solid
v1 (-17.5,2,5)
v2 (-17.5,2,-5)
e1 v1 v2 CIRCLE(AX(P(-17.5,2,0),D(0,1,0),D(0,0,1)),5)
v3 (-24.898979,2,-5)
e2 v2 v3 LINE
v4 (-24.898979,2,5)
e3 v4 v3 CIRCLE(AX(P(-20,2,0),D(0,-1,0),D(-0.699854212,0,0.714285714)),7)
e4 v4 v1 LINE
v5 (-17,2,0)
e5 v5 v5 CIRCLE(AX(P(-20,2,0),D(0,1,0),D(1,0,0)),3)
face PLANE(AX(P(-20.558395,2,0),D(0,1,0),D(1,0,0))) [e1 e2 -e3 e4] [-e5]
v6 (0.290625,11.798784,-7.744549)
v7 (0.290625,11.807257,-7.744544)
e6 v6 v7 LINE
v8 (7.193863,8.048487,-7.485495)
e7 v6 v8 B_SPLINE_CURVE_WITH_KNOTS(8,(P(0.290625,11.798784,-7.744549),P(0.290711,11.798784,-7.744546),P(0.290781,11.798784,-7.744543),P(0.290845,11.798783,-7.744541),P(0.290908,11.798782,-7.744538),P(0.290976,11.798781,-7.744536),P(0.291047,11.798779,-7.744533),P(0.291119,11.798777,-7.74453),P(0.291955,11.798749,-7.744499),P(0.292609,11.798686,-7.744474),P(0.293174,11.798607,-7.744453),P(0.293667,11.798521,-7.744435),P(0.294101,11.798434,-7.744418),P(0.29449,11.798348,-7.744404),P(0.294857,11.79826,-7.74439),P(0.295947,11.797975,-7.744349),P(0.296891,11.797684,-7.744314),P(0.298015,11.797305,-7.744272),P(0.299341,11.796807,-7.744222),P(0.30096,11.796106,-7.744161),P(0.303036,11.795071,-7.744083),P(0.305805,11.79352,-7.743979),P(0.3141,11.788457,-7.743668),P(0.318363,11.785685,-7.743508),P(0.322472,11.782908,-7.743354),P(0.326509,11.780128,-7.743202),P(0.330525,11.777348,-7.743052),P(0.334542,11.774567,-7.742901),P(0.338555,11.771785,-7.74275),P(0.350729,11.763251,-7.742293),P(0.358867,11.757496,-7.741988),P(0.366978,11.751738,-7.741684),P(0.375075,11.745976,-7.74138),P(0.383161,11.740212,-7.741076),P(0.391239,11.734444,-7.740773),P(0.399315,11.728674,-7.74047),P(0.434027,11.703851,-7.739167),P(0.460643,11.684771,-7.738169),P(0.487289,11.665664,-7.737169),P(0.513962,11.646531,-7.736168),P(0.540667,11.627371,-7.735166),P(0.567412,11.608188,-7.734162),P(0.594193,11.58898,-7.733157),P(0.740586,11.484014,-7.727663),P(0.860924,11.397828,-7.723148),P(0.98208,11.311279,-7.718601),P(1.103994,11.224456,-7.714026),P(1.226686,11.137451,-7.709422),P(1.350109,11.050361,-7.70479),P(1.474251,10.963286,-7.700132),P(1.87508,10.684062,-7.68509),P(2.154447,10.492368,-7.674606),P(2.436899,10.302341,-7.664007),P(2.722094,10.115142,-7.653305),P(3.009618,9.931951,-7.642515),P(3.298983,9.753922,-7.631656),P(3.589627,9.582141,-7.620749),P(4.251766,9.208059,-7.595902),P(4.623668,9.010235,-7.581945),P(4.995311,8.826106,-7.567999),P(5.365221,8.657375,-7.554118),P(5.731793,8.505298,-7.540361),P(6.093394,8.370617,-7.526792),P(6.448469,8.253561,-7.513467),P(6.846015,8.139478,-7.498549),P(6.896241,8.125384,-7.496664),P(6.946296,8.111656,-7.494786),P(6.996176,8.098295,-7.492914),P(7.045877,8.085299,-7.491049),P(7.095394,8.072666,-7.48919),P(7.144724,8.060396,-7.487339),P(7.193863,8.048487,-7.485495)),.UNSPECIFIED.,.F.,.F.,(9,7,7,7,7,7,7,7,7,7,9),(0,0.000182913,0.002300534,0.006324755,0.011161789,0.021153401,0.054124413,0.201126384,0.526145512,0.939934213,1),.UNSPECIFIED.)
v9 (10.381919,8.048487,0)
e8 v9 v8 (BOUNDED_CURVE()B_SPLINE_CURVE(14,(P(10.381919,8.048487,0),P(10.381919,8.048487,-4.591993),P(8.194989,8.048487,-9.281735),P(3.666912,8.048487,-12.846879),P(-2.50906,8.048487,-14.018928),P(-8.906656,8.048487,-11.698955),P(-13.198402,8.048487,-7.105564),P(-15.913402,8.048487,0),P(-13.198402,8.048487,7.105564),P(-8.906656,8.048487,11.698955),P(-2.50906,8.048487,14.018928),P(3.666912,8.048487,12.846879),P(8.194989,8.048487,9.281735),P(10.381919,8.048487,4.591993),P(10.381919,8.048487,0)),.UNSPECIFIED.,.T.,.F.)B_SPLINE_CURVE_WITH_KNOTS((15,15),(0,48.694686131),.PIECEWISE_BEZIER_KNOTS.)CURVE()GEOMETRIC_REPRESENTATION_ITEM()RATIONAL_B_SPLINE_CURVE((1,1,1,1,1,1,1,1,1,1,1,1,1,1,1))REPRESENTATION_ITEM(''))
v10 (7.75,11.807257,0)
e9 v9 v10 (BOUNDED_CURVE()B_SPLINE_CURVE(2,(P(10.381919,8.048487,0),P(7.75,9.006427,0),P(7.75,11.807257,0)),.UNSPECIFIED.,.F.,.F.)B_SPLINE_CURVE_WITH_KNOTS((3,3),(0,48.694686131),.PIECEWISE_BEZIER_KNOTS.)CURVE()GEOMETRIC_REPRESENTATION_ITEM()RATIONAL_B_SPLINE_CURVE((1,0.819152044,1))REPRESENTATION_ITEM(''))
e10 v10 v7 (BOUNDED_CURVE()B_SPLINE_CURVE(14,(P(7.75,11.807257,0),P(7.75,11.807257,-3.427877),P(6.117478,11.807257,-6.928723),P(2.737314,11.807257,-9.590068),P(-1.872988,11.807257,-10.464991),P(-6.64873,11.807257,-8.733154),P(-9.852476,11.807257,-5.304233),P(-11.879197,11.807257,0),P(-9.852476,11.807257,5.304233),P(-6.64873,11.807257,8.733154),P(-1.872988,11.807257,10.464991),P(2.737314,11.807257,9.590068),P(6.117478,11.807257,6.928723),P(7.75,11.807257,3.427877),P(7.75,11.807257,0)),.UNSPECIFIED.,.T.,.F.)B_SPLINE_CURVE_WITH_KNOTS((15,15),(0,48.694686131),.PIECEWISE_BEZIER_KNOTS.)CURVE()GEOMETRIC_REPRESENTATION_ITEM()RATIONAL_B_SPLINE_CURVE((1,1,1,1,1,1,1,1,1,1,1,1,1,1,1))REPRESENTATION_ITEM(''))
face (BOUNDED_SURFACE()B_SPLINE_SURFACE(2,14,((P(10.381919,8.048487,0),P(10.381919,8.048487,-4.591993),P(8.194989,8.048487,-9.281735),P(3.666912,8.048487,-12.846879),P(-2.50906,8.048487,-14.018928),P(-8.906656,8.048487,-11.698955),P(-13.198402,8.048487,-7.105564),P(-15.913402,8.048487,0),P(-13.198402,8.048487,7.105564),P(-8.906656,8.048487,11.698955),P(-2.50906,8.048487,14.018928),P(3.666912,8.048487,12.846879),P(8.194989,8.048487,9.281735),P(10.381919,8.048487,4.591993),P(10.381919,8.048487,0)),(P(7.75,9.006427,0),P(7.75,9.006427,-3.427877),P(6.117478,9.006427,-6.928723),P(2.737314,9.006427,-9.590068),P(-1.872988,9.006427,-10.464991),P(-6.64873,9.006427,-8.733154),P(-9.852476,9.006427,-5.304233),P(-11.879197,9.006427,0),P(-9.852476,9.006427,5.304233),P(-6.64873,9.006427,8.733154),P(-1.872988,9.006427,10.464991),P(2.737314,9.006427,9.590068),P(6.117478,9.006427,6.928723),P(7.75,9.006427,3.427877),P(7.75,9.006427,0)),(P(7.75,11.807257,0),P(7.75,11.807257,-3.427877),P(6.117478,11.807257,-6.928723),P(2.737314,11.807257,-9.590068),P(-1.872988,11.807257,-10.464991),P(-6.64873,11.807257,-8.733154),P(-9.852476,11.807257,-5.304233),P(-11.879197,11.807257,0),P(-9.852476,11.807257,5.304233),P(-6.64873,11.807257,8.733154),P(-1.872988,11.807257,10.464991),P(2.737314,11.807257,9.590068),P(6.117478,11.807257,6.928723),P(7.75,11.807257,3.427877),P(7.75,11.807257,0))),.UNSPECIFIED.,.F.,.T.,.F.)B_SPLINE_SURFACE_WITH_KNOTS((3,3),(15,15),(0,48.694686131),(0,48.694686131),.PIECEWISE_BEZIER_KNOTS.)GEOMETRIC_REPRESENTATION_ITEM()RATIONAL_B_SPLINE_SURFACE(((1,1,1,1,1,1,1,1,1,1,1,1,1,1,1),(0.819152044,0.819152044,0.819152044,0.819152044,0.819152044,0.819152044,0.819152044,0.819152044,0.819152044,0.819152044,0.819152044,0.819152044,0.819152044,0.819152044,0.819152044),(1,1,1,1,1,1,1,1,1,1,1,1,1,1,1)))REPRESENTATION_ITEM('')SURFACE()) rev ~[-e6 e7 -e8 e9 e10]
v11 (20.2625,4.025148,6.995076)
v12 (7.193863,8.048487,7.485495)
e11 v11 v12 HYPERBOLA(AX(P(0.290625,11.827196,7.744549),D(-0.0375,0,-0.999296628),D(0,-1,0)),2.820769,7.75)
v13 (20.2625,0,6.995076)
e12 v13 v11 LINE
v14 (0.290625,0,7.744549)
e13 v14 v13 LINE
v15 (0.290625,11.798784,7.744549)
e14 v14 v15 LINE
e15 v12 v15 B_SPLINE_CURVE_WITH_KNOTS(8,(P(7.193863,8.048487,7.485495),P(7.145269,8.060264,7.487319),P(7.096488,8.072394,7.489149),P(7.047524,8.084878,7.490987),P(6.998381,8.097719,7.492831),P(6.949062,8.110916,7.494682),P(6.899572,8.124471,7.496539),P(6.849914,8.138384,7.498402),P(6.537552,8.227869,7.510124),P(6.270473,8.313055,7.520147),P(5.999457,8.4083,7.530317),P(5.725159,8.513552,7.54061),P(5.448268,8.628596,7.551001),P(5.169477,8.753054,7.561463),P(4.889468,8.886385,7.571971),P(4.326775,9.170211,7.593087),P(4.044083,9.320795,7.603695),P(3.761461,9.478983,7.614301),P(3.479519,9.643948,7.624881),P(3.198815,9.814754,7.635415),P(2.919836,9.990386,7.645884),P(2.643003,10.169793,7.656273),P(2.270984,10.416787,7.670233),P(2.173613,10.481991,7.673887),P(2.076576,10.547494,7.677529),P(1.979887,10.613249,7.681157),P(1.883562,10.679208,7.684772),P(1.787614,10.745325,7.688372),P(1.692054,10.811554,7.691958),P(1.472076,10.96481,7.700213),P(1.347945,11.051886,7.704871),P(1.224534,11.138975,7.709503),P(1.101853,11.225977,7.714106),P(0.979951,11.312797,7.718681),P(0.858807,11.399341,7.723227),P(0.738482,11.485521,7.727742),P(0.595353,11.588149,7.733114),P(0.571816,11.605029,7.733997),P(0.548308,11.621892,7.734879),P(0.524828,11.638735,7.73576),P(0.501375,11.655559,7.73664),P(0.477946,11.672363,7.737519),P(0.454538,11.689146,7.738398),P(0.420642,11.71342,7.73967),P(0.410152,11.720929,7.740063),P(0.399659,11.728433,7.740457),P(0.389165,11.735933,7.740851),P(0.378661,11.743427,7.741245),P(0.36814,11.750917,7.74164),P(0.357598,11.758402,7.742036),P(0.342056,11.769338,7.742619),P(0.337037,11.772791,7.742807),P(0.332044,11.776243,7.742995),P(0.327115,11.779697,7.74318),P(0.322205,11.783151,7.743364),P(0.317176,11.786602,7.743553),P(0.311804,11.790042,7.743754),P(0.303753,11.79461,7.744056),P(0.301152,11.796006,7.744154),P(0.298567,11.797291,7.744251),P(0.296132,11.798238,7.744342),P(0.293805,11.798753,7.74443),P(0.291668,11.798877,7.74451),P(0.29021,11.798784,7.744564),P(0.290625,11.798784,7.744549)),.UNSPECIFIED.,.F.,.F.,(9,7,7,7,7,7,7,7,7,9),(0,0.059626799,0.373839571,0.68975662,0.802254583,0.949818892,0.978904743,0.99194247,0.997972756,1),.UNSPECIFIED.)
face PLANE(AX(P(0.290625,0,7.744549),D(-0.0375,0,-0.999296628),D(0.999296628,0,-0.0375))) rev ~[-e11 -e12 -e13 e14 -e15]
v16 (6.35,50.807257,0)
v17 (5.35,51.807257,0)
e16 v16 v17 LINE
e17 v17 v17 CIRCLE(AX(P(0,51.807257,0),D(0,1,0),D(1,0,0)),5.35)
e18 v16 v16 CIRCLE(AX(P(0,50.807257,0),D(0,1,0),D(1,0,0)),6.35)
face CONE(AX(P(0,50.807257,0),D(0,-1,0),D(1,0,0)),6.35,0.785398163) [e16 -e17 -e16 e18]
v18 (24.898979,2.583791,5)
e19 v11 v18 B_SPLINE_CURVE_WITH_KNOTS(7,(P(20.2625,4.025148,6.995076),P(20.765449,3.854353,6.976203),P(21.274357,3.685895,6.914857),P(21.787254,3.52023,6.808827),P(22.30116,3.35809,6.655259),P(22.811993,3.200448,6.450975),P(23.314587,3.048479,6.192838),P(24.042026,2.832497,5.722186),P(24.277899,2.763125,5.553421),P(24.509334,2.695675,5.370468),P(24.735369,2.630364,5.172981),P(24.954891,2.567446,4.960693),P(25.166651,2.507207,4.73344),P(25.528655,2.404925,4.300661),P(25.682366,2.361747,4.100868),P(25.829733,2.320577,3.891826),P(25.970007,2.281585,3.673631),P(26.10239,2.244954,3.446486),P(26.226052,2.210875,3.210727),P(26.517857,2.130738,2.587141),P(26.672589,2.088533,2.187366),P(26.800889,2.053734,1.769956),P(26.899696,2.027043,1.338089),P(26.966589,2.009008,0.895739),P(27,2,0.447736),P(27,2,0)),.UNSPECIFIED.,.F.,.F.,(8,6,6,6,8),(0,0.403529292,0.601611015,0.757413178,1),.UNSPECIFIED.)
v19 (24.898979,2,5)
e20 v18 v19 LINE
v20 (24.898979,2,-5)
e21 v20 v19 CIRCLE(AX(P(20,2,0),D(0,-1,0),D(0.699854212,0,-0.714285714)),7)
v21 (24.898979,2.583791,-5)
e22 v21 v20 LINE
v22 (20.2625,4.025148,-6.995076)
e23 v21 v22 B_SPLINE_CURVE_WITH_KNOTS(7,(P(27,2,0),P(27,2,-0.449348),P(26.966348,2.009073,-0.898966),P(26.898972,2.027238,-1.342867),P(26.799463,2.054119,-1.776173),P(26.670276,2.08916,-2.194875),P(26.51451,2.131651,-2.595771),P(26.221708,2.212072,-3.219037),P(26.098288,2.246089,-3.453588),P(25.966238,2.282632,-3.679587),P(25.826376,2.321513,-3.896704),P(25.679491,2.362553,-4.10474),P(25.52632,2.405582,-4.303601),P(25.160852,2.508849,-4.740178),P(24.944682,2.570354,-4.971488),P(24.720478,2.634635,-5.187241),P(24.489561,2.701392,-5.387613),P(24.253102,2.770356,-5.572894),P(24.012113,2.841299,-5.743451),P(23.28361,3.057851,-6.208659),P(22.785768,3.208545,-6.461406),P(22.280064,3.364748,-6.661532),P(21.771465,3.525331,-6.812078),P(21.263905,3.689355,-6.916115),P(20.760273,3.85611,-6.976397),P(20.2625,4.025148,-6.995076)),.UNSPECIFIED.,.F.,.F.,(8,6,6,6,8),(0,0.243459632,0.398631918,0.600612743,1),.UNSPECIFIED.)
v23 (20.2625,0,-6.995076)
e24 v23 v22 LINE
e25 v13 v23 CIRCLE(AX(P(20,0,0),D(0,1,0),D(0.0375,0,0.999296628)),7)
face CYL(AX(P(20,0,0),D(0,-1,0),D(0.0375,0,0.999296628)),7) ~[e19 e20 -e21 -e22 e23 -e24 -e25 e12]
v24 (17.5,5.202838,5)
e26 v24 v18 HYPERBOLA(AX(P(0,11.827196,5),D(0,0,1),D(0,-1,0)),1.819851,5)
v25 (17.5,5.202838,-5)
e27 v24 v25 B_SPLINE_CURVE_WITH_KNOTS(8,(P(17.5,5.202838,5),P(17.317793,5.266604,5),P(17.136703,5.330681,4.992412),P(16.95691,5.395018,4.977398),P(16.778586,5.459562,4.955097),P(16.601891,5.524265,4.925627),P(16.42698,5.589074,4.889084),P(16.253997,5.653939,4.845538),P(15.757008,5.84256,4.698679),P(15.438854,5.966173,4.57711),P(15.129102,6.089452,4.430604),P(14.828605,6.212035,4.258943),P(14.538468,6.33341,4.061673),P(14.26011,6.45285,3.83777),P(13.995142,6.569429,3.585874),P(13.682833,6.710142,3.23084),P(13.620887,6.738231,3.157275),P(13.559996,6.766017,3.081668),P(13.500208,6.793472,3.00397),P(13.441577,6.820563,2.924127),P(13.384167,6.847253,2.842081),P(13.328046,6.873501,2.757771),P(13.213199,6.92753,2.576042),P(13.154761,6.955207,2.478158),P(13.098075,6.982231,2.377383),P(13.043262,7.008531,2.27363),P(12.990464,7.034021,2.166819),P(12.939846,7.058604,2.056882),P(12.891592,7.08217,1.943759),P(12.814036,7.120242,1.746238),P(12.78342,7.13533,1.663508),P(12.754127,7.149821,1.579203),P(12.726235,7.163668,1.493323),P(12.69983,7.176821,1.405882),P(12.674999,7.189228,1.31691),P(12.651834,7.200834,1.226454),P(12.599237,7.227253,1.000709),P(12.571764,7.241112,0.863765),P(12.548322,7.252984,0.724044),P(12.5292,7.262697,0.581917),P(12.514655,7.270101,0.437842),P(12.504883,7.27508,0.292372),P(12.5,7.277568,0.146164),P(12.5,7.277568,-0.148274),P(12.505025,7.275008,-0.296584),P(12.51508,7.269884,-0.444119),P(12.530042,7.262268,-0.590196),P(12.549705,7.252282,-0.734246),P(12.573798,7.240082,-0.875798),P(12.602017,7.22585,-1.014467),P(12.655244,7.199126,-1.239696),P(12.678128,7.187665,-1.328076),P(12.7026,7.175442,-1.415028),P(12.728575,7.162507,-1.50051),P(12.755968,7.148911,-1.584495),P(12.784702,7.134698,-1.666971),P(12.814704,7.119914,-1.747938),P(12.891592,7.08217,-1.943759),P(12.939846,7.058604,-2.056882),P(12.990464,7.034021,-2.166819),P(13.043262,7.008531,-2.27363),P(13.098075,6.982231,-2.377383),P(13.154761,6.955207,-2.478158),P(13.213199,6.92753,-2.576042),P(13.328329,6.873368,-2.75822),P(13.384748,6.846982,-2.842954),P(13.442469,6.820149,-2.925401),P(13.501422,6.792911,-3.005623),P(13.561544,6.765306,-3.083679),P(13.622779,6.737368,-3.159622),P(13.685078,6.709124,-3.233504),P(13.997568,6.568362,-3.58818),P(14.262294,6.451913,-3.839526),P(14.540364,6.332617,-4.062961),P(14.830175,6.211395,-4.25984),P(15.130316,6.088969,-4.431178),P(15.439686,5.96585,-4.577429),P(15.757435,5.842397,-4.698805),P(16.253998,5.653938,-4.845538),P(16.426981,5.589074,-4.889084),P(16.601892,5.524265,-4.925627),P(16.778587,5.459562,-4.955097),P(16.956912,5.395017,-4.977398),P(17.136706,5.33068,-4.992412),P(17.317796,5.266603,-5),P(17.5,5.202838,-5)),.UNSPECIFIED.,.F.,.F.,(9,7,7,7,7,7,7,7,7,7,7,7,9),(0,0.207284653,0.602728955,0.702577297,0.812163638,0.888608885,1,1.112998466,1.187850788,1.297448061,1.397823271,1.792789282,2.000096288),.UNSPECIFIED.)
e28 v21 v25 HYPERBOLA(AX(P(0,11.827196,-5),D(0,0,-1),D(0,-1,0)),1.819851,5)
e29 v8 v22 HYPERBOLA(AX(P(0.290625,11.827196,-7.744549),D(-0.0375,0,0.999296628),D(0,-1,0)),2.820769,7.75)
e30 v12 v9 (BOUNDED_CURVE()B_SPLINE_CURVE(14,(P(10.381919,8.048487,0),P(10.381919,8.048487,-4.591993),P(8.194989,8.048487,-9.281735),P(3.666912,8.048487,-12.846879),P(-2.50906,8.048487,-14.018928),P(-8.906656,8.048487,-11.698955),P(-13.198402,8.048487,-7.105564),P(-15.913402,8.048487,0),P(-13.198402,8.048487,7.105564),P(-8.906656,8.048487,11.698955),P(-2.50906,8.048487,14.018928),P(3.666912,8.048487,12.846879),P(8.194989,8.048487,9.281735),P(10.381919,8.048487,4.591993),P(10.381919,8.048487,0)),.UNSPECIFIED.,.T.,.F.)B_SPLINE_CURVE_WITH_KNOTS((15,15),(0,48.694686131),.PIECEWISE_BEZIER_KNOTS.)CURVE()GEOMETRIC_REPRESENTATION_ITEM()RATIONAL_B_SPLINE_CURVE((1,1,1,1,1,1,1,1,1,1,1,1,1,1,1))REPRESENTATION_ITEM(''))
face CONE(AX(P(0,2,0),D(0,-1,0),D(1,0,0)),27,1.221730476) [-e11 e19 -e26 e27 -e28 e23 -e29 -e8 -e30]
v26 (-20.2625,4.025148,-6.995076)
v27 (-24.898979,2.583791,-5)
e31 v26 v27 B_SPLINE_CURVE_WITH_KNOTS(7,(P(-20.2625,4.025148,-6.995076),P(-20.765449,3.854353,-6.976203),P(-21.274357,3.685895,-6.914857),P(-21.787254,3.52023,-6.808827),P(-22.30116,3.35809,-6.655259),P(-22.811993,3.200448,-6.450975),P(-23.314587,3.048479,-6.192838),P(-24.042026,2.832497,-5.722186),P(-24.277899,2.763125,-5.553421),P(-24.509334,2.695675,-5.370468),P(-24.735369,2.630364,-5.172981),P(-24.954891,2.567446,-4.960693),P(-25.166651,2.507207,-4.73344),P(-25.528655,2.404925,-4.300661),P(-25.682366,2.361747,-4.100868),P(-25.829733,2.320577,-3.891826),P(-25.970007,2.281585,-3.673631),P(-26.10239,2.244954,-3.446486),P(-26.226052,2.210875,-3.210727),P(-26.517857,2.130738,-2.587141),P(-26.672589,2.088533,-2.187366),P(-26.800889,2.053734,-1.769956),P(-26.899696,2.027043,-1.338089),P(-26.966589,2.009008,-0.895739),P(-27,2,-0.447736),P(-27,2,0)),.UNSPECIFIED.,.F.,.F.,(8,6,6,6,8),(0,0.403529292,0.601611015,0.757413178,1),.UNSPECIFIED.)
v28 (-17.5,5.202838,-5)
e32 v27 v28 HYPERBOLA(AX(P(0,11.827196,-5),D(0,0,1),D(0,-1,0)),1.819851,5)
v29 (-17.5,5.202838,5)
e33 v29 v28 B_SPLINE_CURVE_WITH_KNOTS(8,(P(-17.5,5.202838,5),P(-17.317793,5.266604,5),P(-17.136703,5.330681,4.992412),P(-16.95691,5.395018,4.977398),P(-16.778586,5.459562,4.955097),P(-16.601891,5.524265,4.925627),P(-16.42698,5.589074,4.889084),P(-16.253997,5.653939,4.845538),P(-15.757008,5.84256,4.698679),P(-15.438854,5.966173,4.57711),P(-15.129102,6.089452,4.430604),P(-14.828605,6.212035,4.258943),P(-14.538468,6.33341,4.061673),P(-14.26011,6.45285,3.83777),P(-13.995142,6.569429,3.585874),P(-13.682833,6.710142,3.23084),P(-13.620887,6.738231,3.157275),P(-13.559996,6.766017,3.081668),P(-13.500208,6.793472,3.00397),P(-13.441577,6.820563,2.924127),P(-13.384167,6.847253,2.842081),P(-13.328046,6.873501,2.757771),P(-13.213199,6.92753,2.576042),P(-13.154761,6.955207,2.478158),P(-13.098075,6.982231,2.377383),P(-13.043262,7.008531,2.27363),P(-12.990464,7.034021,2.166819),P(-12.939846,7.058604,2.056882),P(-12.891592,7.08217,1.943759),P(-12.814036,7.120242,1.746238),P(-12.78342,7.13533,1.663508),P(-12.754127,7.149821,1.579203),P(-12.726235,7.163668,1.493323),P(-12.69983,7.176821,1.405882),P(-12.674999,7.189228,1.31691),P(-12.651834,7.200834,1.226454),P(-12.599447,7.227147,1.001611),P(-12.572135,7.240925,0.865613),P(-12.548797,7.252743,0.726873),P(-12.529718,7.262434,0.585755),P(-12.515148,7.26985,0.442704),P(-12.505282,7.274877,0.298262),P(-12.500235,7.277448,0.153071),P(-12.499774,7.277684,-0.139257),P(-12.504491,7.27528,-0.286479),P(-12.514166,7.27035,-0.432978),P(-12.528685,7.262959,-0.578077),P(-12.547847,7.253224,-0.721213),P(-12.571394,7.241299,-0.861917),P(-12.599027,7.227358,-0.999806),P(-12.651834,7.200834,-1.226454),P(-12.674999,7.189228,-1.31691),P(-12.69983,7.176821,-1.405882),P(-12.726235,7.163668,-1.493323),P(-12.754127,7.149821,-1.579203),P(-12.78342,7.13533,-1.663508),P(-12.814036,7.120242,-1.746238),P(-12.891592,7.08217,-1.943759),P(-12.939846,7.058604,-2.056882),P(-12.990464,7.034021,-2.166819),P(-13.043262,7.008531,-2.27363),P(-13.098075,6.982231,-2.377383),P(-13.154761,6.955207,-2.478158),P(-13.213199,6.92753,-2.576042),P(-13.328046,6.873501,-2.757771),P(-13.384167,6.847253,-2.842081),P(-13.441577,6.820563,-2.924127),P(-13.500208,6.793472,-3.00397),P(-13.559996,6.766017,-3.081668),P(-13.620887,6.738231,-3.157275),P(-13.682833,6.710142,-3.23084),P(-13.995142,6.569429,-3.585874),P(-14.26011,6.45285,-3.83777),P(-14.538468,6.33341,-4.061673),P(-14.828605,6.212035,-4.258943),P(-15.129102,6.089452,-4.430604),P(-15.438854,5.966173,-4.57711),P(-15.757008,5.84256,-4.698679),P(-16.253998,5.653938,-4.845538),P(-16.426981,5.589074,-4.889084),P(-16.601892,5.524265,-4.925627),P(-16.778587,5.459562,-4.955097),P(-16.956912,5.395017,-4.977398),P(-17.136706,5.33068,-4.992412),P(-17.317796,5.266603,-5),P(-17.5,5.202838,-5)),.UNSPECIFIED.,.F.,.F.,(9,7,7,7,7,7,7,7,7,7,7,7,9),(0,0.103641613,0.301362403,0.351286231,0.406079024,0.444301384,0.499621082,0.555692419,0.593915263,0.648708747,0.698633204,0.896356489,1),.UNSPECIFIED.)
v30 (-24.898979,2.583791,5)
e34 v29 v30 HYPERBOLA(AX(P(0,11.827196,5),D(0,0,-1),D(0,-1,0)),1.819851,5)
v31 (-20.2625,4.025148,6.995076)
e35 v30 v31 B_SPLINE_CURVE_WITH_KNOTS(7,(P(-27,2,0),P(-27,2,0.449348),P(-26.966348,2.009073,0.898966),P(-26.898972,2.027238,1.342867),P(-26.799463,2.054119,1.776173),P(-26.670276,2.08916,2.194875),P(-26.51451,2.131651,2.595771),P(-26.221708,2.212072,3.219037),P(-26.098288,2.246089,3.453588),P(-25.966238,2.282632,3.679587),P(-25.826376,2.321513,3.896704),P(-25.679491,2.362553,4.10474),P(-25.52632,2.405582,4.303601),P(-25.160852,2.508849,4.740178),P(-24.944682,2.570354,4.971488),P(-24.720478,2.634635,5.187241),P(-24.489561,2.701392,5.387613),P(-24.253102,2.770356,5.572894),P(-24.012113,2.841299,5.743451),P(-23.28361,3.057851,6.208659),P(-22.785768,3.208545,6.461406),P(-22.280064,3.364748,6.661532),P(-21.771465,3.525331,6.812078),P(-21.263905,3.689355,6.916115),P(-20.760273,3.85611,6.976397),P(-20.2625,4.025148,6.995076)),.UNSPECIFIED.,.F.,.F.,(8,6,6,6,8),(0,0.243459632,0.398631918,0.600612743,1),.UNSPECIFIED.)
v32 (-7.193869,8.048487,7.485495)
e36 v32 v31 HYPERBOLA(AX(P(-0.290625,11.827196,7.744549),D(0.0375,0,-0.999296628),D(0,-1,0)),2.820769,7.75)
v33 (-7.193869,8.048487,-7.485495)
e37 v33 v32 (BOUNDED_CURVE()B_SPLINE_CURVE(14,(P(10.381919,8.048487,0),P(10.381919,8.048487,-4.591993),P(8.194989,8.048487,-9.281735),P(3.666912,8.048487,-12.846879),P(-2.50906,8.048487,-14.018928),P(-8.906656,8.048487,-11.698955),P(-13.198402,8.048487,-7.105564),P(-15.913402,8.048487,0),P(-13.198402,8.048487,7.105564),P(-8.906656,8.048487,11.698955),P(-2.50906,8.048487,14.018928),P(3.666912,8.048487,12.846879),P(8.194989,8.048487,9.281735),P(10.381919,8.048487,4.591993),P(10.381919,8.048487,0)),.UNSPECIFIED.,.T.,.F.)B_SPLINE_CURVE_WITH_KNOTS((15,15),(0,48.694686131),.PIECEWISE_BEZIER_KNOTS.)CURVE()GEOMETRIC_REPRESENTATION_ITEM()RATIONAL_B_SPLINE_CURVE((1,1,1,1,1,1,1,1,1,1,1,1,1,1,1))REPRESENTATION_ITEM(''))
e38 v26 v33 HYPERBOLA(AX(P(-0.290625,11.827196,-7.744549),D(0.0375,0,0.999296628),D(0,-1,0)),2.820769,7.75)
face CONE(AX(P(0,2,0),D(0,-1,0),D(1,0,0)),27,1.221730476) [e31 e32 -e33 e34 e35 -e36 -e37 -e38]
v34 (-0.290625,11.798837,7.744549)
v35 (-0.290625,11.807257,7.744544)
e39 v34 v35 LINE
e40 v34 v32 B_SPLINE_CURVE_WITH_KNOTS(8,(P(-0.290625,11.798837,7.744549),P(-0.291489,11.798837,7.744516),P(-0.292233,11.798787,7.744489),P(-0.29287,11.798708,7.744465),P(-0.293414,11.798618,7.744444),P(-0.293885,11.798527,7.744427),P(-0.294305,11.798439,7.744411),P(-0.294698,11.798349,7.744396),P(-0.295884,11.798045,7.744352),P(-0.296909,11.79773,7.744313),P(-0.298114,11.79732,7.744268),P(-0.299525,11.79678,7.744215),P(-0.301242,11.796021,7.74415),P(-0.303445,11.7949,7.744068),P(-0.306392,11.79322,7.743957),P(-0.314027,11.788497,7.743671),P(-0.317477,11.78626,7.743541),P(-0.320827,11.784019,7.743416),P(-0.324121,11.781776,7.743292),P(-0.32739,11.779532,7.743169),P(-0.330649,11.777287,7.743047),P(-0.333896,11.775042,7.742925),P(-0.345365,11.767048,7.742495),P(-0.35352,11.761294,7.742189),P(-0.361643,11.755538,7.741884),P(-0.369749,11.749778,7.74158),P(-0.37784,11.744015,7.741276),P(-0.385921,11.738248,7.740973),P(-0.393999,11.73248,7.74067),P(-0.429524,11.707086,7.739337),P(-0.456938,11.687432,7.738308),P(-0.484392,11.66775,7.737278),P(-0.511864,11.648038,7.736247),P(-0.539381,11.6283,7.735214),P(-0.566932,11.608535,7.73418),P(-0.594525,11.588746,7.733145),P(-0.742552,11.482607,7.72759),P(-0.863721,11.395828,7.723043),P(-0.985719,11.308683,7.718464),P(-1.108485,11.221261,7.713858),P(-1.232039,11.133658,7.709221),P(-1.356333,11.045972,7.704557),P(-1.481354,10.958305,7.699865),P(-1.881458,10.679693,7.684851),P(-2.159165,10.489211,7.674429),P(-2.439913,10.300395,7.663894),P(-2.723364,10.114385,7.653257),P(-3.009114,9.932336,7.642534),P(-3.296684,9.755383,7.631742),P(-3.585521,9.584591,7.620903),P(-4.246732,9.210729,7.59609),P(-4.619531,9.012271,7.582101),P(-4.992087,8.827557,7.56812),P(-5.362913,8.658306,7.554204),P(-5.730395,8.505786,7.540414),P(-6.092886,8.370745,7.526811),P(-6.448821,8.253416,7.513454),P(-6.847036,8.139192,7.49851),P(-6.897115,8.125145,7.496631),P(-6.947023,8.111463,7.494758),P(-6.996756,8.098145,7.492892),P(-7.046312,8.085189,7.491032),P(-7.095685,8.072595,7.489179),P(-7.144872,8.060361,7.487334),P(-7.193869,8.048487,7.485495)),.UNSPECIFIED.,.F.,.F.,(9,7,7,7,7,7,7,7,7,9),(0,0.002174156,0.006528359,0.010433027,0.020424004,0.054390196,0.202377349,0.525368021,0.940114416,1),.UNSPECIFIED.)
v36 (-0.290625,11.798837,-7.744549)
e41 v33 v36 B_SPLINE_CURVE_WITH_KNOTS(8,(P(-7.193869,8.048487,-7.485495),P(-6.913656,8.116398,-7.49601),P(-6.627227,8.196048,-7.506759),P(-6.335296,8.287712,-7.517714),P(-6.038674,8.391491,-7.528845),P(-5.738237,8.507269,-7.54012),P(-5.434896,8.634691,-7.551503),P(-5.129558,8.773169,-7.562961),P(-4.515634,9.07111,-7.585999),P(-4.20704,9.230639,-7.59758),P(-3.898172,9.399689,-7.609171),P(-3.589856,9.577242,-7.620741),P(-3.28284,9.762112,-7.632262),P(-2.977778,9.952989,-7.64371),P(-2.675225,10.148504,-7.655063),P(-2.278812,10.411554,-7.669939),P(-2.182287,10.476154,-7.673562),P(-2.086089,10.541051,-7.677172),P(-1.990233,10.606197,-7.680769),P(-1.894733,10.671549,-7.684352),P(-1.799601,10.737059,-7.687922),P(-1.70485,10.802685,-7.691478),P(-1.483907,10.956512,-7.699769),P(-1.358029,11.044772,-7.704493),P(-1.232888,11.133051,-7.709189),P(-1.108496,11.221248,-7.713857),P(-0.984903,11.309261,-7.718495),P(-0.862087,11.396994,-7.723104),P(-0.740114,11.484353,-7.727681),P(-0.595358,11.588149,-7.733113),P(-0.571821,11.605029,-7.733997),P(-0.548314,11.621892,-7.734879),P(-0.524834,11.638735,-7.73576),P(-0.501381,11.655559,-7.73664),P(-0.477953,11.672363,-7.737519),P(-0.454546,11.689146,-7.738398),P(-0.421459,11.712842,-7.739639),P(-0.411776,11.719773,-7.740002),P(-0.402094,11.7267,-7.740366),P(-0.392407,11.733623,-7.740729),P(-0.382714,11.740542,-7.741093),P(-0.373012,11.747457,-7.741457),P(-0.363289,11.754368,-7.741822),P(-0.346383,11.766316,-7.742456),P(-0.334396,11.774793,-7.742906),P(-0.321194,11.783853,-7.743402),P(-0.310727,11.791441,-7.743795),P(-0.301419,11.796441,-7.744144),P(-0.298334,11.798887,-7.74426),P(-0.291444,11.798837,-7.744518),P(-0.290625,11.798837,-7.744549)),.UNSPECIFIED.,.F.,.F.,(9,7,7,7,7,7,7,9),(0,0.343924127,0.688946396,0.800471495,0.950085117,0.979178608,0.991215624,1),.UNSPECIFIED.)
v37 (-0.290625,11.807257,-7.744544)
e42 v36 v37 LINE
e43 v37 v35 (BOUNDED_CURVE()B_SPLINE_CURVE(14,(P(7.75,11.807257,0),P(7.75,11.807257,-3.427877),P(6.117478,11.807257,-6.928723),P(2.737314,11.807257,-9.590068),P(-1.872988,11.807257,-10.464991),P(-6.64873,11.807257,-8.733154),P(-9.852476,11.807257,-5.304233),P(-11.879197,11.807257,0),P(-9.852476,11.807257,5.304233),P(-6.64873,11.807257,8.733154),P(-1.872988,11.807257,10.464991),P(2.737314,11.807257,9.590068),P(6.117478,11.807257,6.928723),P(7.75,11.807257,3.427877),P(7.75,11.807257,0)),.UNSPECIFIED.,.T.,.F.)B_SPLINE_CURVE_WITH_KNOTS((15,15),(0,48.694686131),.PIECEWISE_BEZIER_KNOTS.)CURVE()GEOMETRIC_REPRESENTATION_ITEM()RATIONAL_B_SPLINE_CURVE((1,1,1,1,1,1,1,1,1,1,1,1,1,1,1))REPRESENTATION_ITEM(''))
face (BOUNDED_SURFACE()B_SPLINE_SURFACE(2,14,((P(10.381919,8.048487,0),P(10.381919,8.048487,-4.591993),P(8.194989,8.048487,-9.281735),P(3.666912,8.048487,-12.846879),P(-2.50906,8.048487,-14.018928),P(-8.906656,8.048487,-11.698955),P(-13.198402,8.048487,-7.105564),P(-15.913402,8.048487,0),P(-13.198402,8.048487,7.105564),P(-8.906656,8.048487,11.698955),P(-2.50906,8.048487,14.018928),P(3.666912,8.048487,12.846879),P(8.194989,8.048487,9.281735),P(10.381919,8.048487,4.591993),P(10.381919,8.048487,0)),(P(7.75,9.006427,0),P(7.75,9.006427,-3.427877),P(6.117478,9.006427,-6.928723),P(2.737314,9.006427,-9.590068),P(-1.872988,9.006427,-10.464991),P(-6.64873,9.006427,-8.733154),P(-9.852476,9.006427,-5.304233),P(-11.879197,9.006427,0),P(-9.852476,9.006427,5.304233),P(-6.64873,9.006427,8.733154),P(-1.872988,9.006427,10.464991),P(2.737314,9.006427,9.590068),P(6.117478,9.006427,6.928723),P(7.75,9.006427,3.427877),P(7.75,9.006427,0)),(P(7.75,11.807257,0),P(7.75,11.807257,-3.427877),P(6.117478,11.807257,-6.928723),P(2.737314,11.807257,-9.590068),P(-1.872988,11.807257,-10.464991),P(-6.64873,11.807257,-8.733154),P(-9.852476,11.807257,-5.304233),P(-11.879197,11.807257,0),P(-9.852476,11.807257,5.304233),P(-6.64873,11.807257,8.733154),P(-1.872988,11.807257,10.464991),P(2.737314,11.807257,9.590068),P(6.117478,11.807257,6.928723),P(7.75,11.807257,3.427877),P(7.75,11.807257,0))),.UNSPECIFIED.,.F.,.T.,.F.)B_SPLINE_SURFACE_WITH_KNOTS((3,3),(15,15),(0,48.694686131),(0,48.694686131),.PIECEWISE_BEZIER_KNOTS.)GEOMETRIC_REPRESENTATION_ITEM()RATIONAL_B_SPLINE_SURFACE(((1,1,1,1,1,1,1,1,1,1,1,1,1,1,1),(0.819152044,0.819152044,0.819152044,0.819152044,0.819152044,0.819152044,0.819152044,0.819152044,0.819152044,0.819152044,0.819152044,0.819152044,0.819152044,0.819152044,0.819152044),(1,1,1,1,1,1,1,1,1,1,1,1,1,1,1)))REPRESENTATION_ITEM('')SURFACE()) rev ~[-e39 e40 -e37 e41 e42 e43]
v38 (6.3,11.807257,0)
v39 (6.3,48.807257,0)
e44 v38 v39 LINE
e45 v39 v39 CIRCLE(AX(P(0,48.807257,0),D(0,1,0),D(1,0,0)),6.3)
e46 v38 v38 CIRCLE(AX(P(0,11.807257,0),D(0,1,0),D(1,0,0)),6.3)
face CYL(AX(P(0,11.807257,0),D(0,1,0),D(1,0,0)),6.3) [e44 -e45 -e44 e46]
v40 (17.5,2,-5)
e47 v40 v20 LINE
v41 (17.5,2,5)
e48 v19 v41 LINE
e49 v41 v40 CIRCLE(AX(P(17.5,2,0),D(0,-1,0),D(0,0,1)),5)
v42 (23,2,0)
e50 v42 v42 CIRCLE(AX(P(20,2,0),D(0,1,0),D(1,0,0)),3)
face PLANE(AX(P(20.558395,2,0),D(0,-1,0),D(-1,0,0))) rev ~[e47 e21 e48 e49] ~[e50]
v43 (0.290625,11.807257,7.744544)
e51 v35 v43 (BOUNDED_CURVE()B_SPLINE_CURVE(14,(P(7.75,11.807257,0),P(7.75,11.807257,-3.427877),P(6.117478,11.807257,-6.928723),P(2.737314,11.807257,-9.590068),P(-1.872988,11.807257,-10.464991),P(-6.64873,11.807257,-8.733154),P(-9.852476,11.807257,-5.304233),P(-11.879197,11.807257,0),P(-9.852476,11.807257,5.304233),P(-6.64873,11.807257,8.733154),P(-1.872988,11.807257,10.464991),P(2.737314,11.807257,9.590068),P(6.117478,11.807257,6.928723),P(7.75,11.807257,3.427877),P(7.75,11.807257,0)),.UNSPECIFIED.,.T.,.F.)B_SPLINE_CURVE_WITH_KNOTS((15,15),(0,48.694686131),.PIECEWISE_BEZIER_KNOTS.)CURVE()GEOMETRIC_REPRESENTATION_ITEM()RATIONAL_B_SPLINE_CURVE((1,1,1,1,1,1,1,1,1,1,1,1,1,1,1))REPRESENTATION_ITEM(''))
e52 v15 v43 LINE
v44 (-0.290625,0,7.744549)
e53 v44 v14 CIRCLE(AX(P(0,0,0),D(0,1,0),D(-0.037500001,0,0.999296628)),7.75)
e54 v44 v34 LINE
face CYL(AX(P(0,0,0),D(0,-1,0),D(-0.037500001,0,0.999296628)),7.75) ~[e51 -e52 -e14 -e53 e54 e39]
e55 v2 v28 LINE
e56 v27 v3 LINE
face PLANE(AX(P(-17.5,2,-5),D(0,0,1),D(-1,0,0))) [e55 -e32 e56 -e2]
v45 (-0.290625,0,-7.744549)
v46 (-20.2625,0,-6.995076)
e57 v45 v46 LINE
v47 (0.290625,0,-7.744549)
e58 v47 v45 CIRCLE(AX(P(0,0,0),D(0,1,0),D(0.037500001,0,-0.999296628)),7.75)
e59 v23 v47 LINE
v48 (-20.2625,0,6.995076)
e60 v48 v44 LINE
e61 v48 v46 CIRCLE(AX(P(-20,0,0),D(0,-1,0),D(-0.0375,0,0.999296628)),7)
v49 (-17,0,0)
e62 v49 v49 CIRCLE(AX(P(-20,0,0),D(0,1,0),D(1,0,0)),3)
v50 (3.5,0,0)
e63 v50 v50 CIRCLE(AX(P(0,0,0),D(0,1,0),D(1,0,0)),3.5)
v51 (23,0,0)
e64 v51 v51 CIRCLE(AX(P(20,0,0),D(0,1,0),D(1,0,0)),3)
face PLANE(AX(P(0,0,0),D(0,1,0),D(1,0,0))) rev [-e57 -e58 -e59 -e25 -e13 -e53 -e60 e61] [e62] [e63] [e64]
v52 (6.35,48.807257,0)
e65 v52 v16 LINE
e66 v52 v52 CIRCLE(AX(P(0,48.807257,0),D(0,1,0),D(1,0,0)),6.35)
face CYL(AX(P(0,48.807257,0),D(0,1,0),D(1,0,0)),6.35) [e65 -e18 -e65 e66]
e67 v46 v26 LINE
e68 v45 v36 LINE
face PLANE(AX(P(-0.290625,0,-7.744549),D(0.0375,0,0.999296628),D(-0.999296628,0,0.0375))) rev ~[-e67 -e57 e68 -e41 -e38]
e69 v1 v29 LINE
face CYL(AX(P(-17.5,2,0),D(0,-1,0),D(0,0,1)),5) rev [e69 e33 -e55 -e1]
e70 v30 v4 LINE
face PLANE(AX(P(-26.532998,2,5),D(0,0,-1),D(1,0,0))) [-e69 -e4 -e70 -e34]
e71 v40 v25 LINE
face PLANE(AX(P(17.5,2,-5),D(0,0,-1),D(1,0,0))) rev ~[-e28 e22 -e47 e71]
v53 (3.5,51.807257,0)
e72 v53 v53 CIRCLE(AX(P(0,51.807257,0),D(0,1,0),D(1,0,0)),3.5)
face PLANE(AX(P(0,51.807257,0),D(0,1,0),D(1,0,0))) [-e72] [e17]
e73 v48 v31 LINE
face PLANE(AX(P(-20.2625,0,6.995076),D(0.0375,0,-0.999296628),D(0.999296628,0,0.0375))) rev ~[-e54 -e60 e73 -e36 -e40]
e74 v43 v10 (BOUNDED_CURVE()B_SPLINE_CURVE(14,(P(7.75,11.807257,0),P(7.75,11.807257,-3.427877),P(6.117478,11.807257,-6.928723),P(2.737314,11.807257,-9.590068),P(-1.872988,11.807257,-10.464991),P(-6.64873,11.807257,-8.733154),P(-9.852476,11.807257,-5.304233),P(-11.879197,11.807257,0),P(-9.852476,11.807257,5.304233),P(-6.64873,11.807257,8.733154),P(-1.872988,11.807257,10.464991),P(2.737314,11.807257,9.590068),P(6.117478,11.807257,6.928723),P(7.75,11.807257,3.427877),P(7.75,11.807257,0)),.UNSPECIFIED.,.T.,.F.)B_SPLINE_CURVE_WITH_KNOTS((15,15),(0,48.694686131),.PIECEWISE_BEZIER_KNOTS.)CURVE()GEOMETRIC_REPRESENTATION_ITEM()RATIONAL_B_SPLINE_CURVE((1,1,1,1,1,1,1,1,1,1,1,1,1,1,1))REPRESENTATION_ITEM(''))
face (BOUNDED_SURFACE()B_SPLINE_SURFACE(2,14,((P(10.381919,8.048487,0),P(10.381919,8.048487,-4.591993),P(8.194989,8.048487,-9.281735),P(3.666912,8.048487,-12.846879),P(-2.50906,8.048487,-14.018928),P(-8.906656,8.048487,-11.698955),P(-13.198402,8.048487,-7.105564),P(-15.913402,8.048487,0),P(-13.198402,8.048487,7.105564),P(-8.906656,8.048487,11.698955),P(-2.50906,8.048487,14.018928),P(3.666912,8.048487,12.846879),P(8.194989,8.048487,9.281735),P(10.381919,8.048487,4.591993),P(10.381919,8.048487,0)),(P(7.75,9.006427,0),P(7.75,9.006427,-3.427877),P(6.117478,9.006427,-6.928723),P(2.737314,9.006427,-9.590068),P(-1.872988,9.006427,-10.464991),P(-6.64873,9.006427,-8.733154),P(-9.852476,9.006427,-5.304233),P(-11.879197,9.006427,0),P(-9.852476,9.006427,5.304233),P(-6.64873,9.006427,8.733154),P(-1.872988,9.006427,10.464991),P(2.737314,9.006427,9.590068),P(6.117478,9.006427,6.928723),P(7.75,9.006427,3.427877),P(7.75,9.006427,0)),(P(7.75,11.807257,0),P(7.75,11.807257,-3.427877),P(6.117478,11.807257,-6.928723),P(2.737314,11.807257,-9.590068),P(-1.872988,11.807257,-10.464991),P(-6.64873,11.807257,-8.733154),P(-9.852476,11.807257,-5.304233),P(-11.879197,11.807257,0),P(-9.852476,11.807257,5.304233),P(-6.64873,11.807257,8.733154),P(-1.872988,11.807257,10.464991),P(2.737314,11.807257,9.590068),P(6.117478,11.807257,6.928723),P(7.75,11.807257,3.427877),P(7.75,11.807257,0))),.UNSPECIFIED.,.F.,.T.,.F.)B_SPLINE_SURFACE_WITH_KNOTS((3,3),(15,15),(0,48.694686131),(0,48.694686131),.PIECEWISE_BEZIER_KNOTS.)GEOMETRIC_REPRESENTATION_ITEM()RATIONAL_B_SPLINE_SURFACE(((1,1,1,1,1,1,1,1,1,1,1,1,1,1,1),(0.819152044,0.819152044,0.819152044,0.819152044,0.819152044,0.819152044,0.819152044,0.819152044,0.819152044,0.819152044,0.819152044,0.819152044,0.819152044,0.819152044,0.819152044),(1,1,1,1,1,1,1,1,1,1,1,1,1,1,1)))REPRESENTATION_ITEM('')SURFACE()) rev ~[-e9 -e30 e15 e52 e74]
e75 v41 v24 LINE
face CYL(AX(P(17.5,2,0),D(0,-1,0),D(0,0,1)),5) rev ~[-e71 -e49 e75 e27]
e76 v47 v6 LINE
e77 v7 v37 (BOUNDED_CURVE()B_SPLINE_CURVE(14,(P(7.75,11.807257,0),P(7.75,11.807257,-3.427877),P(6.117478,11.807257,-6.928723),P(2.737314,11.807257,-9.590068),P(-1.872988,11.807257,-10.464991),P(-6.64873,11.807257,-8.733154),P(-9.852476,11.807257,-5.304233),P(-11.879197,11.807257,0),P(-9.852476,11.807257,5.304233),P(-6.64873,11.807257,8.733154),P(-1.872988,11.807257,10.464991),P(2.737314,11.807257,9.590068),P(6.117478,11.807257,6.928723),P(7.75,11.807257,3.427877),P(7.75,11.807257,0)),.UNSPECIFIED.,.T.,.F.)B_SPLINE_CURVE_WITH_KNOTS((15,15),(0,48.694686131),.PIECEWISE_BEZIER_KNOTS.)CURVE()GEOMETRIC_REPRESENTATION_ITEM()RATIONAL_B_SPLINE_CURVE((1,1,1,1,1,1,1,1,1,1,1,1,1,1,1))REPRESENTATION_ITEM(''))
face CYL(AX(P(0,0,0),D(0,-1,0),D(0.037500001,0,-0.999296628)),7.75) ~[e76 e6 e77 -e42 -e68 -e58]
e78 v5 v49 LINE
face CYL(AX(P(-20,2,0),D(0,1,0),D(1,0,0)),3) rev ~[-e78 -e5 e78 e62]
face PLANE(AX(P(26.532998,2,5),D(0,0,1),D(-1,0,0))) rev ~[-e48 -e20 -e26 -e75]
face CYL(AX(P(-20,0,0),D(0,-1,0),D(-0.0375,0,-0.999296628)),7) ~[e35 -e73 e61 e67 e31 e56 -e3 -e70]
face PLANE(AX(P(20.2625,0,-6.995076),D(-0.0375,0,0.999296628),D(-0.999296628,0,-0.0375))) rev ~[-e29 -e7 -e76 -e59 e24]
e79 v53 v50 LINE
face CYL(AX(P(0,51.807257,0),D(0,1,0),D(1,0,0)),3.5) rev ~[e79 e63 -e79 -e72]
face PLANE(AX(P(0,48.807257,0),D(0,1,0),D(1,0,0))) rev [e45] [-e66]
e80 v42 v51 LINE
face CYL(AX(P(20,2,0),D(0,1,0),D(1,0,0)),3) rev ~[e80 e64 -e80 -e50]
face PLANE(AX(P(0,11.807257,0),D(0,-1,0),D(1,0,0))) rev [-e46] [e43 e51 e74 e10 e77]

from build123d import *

# Parameters (mm, degrees)
SZKIC1_W                        = 27
SZKIC1_H                        = 25
ZAOKR_GLENIE1_R                 = 4
SZKIC4_R                        = 3
WYTNIJ_WYCI_GNI_CIE3_DEPTH      = 24.0000001
WYTNIJ_WYCI_GNI_CIE3_DEPTH_BACK = 3
WYTNIJ_WYCI_GNI_CIE2_DEPTH      = 24.0000001
SZKIC5_OUTSIDE_W                = 72.072
SZKIC5_OUTSIDE_H                = 72.072
WYTNIJ_WYCI_GNI_CIE4_DEPTH      = 26.0000001
SZKIC8_W                        = 7.75
SZKIC8_H                        = 13.192742838
SZKIC10_R                       = 3.5
WYTNIJ_WYCI_GNI_CIE5_DEPTH      = 52.807257262


with BuildPart() as part:
    # Szkic1 → Obrót1 (revolve)
    with BuildSketch(Plane.XY):
        with Locations((13.5, 12.5)):
            Rectangle(SZKIC1_W, SZKIC1_H)
    revolve(axis=Axis((0, 0, 0), (0, 1, 0)))

    # Szkic2 → Wycięcie-obrót1 (revolve, cut)
    with BuildSketch(Plane.XY):
        Polygon((27, 25), (27, 2), (7.75, 9.00642701), (7.75, 25), align=None)
    revolve(axis=Axis((0, 0, 0), (0, 1, 0)), mode=Mode.SUBTRACT)

    # Zaokrąglenie1
    zaokr_glenie1_edges = [part.edges().sort_by_distance(p)[0] for p in [
        (-7.75, 9.00642701, 0),
    ]]
    fillet(zaokr_glenie1_edges, radius=ZAOKR_GLENIE1_R)

    # Szkic4 → Wytnij-wyciągnięcie3 (cut, two sides)
    with BuildSketch(Plane(origin=(0, 2, 0), x_dir=(1, 0, 0), z_dir=(0, 1, 0))) as wytnij_wyci_gni_cie3_sk:
        with Locations((-20, 0)):
            Circle(SZKIC4_R)
        with Locations((20, 0)):
            Circle(SZKIC4_R)
    extrude(amount=WYTNIJ_WYCI_GNI_CIE3_DEPTH, mode=Mode.SUBTRACT)
    extrude(wytnij_wyci_gni_cie3_sk.sketch, amount=-WYTNIJ_WYCI_GNI_CIE3_DEPTH_BACK, mode=Mode.SUBTRACT)

    # Szkic3 → Wytnij-wyciągnięcie2 (cut, through all)
    with BuildSketch(Plane(origin=(0, 2, 0), x_dir=(1, 0, 0), z_dir=(0, 1, 0))):
        with BuildLine():
            Line((-17.5, 5), (-26.532998323, 5))
            ThreePointArc((-26.532998323, 5), (-27, 0), (-26.532998323, -5))
            Line((-26.532998323, -5), (-17.5, -5))
            ThreePointArc((-17.5, -5), (-12.5, 0), (-17.5, 5))
        make_face()
        with BuildLine():
            Line((17.5, 5), (26.532998323, 5))
            ThreePointArc((26.532998323, 5), (27, 0), (26.532998323, -5))
            Line((26.532998323, -5), (17.5, -5))
            ThreePointArc((17.5, -5), (12.5, 0), (17.5, 5))
        make_face()
    extrude(amount=WYTNIJ_WYCI_GNI_CIE2_DEPTH, mode=Mode.SUBTRACT)

    # Szkic5 outside → Wytnij-wyciągnięcie4 (cut, through all)
    with BuildSketch(Plane.XZ):
        Rectangle(SZKIC5_OUTSIDE_W, SZKIC5_OUTSIDE_H)
        with BuildLine():
            Line((-20.2625, 6.995076393), (-0.290625, 7.744548864))
            ThreePointArc((-0.290625, 7.744548864), (0, 7.75), (0.290625, 7.744548864))
            Line((0.290625, 7.744548864), (20.2625, 6.995076393))
            ThreePointArc((20.2625, 6.995076393), (27, 0), (20.2625, -6.995076393))
            Line((20.2625, -6.995076393), (0.290625, -7.744548864))
            ThreePointArc((0.290625, -7.744548864), (0, -7.75), (-0.290625, -7.744548864))
            Line((-0.290625, -7.744548864), (-20.2625, -6.995076393))
            ThreePointArc((-20.2625, -6.995076393), (-27, 0), (-20.2625, 6.995076393))
        make_face(mode=Mode.SUBTRACT)
    extrude(amount=-WYTNIJ_WYCI_GNI_CIE4_DEPTH, mode=Mode.SUBTRACT)

    # Szkic8 → Wycięcie-obrót2 (revolve, cut)
    with BuildSketch(Plane.XY):
        with Locations((3.875, 18.403628581)):
            Rectangle(SZKIC8_W, SZKIC8_H)
    revolve(axis=Axis((0, 25, 0), (0, -1, 0)), mode=Mode.SUBTRACT)

    # Szkic9 → Obrót2 (revolve)
    with BuildSketch(Plane.XY):
        Polygon((5.35, 51.807257162), (0, 51.807257162), (0, 11.807257162), (6.3, 11.807257162), (6.3, 48.807257162), (6.35, 48.807257162), (6.35, 50.807257162), align=None)
    revolve(axis=Axis((0, 11.807257162, 0), (0, 1, 0)))

    # Szkic10 → Wytnij-wyciągnięcie5 (cut, through all)
    with BuildSketch(Plane(origin=(0, 51.807257162, 0), x_dir=(1, 0, 0), z_dir=(0, 1, 0))):
        Circle(SZKIC10_R)
    extrude(amount=-WYTNIJ_WYCI_GNI_CIE5_DEPTH, mode=Mode.SUBTRACT)


solid = part.part
